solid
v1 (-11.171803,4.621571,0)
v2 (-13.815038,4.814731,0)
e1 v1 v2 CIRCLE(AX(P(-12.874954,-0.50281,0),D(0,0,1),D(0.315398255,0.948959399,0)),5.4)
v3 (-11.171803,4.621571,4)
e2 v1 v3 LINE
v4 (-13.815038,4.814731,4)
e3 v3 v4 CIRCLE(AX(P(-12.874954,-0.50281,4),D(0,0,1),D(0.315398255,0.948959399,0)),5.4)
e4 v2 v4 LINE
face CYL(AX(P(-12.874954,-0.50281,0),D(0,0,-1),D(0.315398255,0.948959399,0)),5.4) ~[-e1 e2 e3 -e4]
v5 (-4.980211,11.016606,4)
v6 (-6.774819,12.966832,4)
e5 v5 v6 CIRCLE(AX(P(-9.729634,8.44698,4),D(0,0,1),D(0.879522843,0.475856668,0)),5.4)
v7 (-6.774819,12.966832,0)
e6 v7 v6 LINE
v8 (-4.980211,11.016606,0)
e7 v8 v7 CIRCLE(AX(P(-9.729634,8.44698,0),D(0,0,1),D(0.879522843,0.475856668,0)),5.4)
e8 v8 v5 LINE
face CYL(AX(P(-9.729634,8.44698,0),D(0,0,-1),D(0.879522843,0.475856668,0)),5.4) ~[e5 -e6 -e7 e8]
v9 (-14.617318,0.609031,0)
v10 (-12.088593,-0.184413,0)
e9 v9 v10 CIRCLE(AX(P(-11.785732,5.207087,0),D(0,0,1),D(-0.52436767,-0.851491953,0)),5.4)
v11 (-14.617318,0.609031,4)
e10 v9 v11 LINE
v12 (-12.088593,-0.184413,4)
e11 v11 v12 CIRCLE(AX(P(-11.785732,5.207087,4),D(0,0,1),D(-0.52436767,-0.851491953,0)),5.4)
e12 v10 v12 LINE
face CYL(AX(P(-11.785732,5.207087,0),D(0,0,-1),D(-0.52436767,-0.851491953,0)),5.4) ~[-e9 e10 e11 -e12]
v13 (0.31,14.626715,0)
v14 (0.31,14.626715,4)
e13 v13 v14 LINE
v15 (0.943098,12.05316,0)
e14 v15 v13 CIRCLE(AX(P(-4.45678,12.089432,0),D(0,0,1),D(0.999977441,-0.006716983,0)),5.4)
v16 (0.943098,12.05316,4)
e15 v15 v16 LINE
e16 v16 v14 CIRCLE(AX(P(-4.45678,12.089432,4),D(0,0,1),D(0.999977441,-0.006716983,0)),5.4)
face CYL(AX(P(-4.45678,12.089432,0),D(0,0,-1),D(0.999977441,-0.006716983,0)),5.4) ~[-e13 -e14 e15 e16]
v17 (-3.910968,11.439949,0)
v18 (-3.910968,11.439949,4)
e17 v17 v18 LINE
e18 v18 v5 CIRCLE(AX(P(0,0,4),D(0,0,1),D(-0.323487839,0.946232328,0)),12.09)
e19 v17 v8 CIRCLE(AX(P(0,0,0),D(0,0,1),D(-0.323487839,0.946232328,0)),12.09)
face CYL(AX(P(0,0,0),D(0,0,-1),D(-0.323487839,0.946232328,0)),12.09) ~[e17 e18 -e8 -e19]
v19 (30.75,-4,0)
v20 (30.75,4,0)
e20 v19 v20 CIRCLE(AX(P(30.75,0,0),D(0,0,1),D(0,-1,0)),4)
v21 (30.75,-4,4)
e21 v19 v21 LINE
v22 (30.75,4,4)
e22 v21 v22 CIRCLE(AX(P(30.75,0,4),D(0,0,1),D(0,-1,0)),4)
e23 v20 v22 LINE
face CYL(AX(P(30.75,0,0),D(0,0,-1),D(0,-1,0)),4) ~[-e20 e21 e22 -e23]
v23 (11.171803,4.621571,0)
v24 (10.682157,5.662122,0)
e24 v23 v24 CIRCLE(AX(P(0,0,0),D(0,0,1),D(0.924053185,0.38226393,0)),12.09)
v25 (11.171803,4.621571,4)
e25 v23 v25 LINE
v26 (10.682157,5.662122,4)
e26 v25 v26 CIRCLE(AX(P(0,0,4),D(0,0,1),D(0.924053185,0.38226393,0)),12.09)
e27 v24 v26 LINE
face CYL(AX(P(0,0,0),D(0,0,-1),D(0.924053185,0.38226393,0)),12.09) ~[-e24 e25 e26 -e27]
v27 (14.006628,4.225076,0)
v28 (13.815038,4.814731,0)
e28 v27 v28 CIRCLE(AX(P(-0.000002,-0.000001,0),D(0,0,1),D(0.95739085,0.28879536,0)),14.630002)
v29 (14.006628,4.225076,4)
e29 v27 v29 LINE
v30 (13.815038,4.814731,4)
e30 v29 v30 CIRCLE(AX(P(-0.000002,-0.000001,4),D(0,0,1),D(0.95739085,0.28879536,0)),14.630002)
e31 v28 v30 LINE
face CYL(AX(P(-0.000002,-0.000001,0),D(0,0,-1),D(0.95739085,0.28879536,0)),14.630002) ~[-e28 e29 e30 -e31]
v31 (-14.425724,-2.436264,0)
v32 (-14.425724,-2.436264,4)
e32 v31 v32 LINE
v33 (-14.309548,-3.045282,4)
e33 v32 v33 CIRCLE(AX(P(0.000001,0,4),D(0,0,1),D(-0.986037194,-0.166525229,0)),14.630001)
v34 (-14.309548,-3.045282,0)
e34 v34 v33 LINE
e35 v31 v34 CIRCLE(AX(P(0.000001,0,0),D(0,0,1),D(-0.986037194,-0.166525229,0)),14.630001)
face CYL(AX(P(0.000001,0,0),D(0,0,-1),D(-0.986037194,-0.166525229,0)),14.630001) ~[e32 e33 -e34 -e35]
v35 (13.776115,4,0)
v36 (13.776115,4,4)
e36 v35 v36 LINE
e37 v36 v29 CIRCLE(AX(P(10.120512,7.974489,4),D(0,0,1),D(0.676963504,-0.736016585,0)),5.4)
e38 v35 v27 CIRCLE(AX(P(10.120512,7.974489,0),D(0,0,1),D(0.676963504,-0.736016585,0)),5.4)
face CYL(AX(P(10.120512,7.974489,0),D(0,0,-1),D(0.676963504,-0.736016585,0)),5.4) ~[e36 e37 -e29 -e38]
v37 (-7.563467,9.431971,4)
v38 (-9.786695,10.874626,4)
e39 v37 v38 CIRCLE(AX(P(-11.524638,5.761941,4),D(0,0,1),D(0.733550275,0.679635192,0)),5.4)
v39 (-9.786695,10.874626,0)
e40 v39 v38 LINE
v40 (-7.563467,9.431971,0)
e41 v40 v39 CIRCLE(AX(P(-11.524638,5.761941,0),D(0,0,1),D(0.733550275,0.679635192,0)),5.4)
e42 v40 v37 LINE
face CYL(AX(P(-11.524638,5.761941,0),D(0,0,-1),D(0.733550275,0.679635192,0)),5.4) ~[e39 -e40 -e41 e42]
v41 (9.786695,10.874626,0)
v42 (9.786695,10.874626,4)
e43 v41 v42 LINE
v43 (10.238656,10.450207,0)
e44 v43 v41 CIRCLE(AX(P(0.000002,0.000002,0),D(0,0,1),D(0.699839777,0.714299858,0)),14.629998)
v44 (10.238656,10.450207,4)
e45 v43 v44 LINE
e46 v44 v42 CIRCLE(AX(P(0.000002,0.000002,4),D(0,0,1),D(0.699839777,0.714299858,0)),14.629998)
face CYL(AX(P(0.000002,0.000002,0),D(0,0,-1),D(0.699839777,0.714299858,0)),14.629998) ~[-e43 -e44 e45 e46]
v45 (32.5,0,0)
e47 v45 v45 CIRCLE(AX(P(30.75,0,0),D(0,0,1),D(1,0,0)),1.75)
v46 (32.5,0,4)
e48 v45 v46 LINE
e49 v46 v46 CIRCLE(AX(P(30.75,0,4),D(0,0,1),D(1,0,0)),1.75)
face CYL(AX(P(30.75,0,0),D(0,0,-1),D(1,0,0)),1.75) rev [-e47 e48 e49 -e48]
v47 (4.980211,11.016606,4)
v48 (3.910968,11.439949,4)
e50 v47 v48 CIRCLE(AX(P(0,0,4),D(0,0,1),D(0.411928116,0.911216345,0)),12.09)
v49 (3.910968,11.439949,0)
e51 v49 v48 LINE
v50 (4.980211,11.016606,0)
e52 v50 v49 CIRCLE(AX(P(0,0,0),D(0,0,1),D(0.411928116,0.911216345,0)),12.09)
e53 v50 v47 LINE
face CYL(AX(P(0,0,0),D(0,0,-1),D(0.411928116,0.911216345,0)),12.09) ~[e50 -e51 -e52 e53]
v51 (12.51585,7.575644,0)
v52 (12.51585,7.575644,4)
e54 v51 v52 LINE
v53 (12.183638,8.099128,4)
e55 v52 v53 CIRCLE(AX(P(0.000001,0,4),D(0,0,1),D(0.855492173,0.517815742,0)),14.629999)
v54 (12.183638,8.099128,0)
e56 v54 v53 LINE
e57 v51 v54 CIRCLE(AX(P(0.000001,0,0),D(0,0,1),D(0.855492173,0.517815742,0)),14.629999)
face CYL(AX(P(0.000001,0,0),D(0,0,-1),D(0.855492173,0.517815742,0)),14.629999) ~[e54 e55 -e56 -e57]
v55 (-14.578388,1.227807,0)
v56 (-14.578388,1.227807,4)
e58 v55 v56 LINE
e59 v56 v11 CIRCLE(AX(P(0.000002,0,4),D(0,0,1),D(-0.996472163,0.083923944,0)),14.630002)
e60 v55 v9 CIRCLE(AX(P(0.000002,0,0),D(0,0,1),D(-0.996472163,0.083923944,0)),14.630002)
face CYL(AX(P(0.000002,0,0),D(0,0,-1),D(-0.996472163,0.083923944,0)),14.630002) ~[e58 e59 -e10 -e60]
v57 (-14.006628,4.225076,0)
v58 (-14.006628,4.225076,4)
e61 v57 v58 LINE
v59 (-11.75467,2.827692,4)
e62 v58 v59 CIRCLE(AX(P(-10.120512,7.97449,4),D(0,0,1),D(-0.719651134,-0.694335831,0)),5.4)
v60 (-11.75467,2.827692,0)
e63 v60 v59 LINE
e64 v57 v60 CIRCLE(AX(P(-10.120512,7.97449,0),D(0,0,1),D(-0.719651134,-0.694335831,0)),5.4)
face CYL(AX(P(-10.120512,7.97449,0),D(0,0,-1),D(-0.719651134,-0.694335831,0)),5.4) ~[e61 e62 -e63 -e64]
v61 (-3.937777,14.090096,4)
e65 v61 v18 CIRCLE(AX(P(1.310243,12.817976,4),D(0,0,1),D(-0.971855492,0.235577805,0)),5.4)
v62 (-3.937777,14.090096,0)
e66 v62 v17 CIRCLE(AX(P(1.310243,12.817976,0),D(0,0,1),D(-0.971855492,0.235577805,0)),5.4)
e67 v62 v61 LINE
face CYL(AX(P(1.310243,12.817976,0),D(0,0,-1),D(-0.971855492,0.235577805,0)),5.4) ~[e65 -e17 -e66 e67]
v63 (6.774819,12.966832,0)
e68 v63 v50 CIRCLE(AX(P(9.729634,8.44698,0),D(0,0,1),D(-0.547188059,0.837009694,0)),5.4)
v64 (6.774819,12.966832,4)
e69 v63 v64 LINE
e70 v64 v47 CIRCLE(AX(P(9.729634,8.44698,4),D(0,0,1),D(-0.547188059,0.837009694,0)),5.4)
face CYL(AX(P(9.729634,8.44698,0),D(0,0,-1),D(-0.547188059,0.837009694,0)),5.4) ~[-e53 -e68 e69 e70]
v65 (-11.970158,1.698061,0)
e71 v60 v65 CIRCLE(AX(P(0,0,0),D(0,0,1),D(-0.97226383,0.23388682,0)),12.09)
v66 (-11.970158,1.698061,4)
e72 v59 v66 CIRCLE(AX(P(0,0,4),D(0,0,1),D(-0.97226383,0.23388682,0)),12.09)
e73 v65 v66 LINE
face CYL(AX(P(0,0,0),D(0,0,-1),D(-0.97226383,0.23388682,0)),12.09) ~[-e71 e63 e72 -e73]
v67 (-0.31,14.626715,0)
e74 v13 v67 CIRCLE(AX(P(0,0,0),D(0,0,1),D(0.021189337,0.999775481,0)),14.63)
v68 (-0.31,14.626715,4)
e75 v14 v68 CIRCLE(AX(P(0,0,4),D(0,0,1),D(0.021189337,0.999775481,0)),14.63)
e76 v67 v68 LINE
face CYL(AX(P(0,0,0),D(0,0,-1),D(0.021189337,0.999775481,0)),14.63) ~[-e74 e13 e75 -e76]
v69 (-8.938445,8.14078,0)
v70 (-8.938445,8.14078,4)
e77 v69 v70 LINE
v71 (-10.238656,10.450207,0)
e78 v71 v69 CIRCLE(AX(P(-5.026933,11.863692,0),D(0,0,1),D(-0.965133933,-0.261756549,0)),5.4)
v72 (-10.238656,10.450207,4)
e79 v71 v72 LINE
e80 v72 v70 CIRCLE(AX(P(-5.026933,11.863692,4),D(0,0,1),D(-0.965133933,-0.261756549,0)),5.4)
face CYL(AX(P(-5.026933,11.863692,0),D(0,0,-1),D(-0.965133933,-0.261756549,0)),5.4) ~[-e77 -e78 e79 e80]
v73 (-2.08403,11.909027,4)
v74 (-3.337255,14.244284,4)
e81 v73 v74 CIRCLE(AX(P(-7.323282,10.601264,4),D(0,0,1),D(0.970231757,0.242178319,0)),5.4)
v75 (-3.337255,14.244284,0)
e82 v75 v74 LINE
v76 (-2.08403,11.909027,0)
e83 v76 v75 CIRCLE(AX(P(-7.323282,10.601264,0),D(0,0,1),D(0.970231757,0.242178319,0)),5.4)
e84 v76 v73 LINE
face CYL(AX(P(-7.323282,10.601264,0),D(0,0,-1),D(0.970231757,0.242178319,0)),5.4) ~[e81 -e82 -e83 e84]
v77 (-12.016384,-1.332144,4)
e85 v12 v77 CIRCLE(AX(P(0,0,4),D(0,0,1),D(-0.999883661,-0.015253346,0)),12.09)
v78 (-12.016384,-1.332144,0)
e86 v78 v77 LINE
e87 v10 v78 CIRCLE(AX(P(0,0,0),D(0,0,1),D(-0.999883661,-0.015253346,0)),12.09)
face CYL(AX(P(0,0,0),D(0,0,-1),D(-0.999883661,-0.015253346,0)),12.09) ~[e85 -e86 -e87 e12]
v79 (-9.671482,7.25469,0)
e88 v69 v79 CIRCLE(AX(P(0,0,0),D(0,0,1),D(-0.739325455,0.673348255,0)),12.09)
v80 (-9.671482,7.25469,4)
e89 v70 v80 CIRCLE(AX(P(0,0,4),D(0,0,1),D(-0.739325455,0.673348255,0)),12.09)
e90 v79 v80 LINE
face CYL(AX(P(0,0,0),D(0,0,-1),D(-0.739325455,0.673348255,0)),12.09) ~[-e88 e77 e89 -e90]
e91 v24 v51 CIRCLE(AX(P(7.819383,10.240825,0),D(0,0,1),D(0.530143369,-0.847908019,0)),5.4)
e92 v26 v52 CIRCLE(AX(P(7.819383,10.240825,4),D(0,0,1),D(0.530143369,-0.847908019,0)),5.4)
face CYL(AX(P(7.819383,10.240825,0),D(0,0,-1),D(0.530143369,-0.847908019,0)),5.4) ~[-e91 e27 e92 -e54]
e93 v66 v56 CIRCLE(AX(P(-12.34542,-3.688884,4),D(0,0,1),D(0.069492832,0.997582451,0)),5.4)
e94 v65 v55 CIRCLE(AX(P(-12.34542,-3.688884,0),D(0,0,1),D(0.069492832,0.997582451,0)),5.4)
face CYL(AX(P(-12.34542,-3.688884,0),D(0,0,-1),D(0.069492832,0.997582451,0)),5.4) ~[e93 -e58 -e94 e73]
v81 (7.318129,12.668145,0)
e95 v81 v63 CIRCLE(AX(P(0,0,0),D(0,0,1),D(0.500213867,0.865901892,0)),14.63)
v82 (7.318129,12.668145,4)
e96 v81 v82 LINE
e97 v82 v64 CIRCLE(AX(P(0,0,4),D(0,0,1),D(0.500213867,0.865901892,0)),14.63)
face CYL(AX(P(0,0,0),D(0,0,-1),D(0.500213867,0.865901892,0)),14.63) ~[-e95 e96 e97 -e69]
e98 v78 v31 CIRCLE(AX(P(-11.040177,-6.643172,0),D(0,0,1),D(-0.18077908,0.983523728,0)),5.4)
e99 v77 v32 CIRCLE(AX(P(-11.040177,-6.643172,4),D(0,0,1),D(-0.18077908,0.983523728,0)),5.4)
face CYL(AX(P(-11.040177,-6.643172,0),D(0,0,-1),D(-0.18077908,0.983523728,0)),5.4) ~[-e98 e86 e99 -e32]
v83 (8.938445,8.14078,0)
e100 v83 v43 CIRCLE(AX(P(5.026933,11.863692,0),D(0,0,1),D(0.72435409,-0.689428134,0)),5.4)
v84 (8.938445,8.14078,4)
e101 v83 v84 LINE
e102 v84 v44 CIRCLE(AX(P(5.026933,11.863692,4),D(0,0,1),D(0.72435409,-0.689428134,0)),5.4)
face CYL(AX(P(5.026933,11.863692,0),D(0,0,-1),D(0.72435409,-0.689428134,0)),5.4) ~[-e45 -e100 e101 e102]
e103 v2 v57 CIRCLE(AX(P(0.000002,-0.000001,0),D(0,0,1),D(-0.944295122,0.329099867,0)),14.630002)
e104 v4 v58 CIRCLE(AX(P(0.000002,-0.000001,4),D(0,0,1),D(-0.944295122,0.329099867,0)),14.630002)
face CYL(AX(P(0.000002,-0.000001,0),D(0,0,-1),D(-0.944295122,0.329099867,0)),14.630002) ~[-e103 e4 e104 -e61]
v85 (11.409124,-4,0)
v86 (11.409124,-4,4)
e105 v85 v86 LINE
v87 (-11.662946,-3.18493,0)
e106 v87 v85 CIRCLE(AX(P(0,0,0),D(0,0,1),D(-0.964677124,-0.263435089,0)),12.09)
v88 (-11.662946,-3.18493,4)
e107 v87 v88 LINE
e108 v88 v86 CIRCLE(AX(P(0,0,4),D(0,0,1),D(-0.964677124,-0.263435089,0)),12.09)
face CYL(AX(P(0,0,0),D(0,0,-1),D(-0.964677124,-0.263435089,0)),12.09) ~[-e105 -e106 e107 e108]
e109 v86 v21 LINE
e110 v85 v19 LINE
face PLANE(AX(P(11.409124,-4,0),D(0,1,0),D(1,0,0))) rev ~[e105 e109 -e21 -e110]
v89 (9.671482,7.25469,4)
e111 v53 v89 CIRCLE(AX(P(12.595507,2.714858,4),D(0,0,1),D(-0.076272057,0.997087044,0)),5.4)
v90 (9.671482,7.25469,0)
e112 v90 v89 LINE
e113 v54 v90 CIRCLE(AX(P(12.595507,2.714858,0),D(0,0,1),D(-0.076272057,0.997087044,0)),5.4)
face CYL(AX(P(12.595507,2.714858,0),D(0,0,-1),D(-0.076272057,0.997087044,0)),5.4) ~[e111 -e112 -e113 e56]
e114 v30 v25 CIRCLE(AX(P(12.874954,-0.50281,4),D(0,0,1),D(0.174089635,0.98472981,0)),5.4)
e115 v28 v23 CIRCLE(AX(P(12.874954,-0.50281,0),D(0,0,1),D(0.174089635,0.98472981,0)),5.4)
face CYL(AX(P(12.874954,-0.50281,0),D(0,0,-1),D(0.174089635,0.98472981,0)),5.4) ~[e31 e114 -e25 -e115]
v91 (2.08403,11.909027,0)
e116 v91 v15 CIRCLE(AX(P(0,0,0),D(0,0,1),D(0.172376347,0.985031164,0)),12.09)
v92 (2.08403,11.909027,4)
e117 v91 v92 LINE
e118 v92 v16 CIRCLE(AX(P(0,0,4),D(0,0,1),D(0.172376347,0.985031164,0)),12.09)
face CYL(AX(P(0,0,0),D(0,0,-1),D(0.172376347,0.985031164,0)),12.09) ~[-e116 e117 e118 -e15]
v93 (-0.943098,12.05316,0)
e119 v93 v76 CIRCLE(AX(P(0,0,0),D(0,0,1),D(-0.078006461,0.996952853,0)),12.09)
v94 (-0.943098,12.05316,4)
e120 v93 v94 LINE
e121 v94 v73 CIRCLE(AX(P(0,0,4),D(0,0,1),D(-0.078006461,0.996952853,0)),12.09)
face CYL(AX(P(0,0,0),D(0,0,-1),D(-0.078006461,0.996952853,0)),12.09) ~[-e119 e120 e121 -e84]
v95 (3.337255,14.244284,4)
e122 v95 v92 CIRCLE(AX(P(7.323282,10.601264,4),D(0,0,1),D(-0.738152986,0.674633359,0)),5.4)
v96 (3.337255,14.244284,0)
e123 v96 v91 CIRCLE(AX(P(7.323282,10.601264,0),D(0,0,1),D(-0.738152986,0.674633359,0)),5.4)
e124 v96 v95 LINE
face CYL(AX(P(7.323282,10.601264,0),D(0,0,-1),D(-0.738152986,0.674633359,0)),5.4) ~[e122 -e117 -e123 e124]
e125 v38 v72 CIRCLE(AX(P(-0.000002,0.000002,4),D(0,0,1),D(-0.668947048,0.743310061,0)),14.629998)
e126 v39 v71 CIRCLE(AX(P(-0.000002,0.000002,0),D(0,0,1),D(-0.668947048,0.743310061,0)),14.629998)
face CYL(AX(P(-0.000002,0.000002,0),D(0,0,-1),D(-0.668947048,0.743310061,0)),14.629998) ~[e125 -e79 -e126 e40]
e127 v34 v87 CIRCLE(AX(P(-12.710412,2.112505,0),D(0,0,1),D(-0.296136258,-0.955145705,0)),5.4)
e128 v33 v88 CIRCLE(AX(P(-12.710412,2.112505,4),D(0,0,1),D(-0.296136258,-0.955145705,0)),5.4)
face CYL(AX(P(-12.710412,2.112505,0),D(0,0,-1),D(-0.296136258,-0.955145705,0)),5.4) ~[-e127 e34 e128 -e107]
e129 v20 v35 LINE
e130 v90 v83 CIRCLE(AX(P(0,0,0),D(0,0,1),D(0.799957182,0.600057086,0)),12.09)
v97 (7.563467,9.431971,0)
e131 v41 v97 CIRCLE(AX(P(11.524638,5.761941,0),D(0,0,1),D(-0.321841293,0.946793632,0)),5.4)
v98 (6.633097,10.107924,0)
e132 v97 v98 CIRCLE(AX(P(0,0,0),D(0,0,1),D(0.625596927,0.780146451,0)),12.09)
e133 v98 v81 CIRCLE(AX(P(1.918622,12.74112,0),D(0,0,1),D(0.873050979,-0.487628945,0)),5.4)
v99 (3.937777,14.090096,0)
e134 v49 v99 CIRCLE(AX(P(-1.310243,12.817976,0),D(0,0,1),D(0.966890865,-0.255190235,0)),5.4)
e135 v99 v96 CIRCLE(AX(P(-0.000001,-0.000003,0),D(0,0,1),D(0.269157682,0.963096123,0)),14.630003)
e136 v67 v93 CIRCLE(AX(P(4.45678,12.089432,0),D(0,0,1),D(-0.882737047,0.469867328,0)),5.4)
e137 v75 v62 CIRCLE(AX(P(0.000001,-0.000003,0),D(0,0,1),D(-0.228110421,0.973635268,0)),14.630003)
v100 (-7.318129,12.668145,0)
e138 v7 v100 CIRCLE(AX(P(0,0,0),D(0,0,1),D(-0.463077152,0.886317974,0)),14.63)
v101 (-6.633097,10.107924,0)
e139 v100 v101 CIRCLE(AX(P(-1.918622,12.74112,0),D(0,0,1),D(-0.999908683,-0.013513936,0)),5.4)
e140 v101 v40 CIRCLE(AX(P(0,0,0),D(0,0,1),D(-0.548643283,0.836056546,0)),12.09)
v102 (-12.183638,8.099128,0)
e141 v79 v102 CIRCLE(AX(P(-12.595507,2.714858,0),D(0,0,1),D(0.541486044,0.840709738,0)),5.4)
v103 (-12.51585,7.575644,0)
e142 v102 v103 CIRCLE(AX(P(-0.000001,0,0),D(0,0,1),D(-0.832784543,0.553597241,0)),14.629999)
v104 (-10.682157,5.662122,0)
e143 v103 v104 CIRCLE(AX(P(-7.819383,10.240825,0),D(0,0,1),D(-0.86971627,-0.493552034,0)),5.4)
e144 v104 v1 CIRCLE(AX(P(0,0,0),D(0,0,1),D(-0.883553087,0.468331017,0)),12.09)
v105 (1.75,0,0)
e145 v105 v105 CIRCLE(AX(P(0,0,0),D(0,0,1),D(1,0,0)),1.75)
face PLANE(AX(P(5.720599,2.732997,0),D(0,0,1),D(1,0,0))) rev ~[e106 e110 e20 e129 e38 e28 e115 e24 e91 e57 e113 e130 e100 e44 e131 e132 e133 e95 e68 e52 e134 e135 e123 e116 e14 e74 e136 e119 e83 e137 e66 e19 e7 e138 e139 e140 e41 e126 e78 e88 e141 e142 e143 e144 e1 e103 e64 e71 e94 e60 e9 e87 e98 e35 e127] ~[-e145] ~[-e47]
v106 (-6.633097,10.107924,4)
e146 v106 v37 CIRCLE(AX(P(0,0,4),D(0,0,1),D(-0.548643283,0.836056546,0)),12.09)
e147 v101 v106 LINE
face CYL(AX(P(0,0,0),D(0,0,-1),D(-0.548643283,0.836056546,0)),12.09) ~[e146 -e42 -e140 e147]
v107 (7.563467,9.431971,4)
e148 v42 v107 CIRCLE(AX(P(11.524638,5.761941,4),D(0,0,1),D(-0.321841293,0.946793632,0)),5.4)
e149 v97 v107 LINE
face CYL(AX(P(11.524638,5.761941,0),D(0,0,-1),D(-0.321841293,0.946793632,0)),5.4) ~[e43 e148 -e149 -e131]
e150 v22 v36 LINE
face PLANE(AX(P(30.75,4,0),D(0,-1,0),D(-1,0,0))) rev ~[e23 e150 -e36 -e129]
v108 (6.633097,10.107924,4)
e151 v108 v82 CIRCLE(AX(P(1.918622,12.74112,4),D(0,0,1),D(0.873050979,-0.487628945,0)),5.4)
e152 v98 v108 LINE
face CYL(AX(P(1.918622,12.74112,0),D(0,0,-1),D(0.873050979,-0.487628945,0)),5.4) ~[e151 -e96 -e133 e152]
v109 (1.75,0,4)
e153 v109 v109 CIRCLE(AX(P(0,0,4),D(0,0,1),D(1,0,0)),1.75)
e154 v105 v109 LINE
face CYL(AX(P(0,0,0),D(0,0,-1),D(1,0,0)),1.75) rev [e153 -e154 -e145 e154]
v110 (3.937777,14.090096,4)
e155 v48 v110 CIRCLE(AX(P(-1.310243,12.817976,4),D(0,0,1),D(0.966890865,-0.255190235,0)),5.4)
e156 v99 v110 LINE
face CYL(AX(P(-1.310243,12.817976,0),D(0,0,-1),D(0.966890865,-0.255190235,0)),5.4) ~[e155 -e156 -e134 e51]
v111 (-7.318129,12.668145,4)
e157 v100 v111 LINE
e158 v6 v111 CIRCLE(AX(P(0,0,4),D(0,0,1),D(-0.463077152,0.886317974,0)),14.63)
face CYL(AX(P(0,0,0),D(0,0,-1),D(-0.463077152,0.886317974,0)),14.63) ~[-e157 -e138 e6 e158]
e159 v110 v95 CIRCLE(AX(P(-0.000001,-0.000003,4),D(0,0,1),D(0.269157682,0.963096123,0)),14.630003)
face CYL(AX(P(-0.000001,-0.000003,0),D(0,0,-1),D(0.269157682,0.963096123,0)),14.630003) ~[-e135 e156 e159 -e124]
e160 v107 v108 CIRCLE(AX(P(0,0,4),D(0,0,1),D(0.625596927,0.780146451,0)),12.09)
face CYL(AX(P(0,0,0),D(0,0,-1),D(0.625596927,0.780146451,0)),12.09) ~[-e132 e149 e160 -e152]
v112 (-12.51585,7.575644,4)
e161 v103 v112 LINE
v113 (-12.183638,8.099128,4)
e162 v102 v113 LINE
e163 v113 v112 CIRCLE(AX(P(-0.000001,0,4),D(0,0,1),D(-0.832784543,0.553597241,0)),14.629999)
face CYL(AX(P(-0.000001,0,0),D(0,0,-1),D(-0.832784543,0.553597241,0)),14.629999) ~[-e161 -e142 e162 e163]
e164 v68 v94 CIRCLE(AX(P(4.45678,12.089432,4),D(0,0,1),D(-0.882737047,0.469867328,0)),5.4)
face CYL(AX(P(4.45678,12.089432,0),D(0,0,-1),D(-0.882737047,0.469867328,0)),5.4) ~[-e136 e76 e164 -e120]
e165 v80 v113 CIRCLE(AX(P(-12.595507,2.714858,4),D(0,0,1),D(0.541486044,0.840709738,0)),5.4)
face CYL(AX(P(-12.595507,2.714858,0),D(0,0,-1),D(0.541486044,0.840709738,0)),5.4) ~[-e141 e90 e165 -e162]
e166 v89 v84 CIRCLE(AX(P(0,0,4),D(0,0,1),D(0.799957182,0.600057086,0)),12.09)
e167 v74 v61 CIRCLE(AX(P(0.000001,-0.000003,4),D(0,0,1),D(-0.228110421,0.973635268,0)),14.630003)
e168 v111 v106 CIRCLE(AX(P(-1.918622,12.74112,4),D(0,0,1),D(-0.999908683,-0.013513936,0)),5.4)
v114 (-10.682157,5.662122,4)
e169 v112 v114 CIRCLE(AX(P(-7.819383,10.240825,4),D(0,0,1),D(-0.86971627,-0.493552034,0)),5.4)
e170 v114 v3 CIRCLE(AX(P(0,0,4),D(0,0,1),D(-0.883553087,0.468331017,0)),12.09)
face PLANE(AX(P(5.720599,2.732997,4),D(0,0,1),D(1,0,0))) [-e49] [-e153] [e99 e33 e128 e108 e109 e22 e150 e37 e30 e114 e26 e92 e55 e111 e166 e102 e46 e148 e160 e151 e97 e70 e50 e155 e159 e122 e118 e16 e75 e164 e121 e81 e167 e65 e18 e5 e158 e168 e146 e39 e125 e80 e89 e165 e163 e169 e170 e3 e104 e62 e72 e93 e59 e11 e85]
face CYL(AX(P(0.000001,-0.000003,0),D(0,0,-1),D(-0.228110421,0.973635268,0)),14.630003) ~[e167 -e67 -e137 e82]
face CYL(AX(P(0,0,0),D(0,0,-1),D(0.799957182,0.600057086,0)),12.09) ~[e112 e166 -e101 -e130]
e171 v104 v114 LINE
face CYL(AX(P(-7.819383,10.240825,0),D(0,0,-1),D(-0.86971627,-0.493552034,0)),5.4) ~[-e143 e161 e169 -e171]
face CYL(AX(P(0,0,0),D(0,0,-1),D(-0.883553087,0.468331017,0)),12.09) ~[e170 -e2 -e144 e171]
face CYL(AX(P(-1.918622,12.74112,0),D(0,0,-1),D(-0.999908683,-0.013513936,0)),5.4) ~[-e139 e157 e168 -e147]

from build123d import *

# Parameters (mm, degrees)
SKETCH1_R           = 1.75
BOSS_EXTRUDE1_DEPTH = 4


with BuildPart() as part:
    # Sketch1 → Boss-Extrude1 (new body)
    with BuildSketch(Plane.XY):
        with BuildLine():
            ThreePointArc((13.776114953, 4), (13.893050478, 4.110818553), (14.006628151, 4.225076075))
            ThreePointArc((14.006628151, 4.225076075), (13.913956833, 4.520918628), (13.815037615, 4.814731115))
            ThreePointArc((13.815037615, 4.814731115), (12.481386111, 4.882828881), (11.171803009, 4.621570895))
            ThreePointArc((11.171803009, 4.621570895), (10.939359064, 5.147671635), (10.682156823, 5.662122005))
            ThreePointArc((10.682156823, 5.662122005), (11.718219248, 6.50464102), (12.515850479, 7.575644315))
            ThreePointArc((12.515850479, 7.575644315), (12.35251755, 7.839146011), (12.183637866, 8.099127629))
            ThreePointArc((12.183637866, 8.099127629), (10.874950252, 7.833420336), (9.671482329, 7.254690176))
            ThreePointArc((9.671482329, 7.254690176), (9.315505105, 7.706456036), (8.938444741, 8.140780406))
            ThreePointArc((8.938444741, 8.140780406), (9.7324314, 9.214488384), (10.238655891, 10.450206961))
            ThreePointArc((10.238655891, 10.450206961), (10.01492416, 10.664811019), (9.786695342, 10.874626167))
            ThreePointArc((9.786695342, 10.874626167), (8.585201272, 10.291809183), (7.563466846, 9.431970593))
            ThreePointArc((7.563466846, 9.431970593), (7.1063237, 9.781015462), (6.633097302, 10.107923633))
            ThreePointArc((6.633097302, 10.107923633), (7.135119095, 11.345355554), (7.318128899, 12.668144672))
            ThreePointArc((7.318128899, 12.668144672), (7.048056252, 12.820366729), (6.774818757, 12.966831949))
            ThreePointArc((6.774818757, 12.966831949), (5.756012523, 12.103525808), (4.980210924, 11.016605609))
            ThreePointArc((4.980210924, 11.016605609), (4.450625842, 11.240997714), (3.910967965, 11.439948845))
            ThreePointArc((3.910967965, 11.439948845), (4.089481015, 12.763352309), (3.937776954, 14.090096262))
            ThreePointArc((3.937776954, 14.090096262), (3.638333049, 14.170371647), (3.337255394, 14.244283992))
            ThreePointArc((3.337255394, 14.244283992), (2.565152337, 13.154733392), (2.084030034, 11.909026779))
            ThreePointArc((2.084030034, 11.909026779), (1.515278794, 11.994666739), (0.943098128, 12.053159997))
            ThreePointArc((0.943098128, 12.053159997), (0.786885803, 13.379380698), (0.31, 14.626715284))
            ThreePointArc((0.31, 14.626715284), (0, 14.63), (-0.31, 14.626715284))
            ThreePointArc((-0.31, 14.626715284), (-0.786885803, 13.379380698), (-0.943098128, 12.053159997))
            ThreePointArc((-0.943098128, 12.053159997), (-1.515278794, 11.994666739), (-2.084030034, 11.909026779))
            ThreePointArc((-2.084030034, 11.909026779), (-2.565152337, 13.154733392), (-3.337255394, 14.244283992))
            ThreePointArc((-3.337255394, 14.244283992), (-3.638333049, 14.170371647), (-3.937776954, 14.090096262))
            ThreePointArc((-3.937776954, 14.090096262), (-4.089481015, 12.763352309), (-3.910967965, 11.439948845))
            ThreePointArc((-3.910967965, 11.439948845), (-4.450625842, 11.240997714), (-4.980210924, 11.016605609))
            ThreePointArc((-4.980210924, 11.016605609), (-5.756012523, 12.103525808), (-6.774818757, 12.966831949))
            ThreePointArc((-6.774818757, 12.966831949), (-7.048056252, 12.820366729), (-7.318128899, 12.668144672))
            ThreePointArc((-7.318128899, 12.668144672), (-7.135119095, 11.345355554), (-6.633097302, 10.107923633))
            ThreePointArc((-6.633097302, 10.107923633), (-7.1063237, 9.781015462), (-7.563466846, 9.431970593))
            ThreePointArc((-7.563466846, 9.431970593), (-8.585201272, 10.291809183), (-9.786695342, 10.874626167))
            ThreePointArc((-9.786695342, 10.874626167), (-10.01492416, 10.664811019), (-10.238655891, 10.450206961))
            ThreePointArc((-10.238655891, 10.450206961), (-9.7324314, 9.214488384), (-8.938444741, 8.140780406))
            ThreePointArc((-8.938444741, 8.140780406), (-9.315505105, 7.706456036), (-9.671482329, 7.254690176))
            ThreePointArc((-9.671482329, 7.254690176), (-10.874950252, 7.833420336), (-12.183637866, 8.099127629))
            ThreePointArc((-12.183637866, 8.099127629), (-12.35251755, 7.839146011), (-12.515850479, 7.575644315))
            ThreePointArc((-12.515850479, 7.575644315), (-11.718219248, 6.50464102), (-10.682156823, 5.662122005))
            ThreePointArc((-10.682156823, 5.662122005), (-10.939359064, 5.147671635), (-11.171803009, 4.621570895))
            ThreePointArc((-11.171803009, 4.621570895), (-12.481386111, 4.882828881), (-13.815037615, 4.814731115))
            ThreePointArc((-13.815037615, 4.814731115), (-13.913956833, 4.520918628), (-14.006628151, 4.225076075))
            ThreePointArc((-14.006628151, 4.225076075), (-12.967708283, 3.386083139), (-11.754669706, 2.827691655))
            ThreePointArc((-11.754669706, 2.827691655), (-11.875852861, 2.265440093), (-11.970158218, 1.698061317))
            ThreePointArc((-11.970158218, 1.698061317), (-13.303570578, 1.625431329), (-14.578387742, 1.227807338))
            ThreePointArc((-14.578387742, 1.227807338), (-14.601131037, 0.918625301), (-14.617317864, 0.609030766))
            ThreePointArc((-14.617317864, 0.609030766), (-13.402388515, 0.054765201), (-12.088593461, -0.184412961))
            ThreePointArc((-12.088593461, -0.184412961), (-12.066143147, -0.759137381), (-12.016384363, -1.332143698))
            ThreePointArc((-12.016384363, -1.332143698), (-13.289842779, -1.734098051), (-14.425724151, -2.43626409))
            ThreePointArc((-14.425724151, -2.43626409), (-14.370862478, -2.741388632), (-14.309547736, -3.045282186))
            ThreePointArc((-14.309547736, -3.045282186), (-12.994947386, -3.279993836), (-11.662946429, -3.184930232))
            ThreePointArc((-11.662946429, -3.184930232), (-0.426838607, -12.082462862), (11.409123542, -4))
            Line((11.409123542, -4), (30.75, -4))
            ThreePointArc((30.75, -4), (34.75, 0), (30.75, 4))
            Line((30.75, 4), (13.776114953, 4))
        make_face()
        Circle(SKETCH1_R, mode=Mode.SUBTRACT)
        with Locations((30.75, 0)):
            Circle(SKETCH1_R, mode=Mode.SUBTRACT)
    extrude(amount=BOSS_EXTRUDE1_DEPTH)


solid = part.part
